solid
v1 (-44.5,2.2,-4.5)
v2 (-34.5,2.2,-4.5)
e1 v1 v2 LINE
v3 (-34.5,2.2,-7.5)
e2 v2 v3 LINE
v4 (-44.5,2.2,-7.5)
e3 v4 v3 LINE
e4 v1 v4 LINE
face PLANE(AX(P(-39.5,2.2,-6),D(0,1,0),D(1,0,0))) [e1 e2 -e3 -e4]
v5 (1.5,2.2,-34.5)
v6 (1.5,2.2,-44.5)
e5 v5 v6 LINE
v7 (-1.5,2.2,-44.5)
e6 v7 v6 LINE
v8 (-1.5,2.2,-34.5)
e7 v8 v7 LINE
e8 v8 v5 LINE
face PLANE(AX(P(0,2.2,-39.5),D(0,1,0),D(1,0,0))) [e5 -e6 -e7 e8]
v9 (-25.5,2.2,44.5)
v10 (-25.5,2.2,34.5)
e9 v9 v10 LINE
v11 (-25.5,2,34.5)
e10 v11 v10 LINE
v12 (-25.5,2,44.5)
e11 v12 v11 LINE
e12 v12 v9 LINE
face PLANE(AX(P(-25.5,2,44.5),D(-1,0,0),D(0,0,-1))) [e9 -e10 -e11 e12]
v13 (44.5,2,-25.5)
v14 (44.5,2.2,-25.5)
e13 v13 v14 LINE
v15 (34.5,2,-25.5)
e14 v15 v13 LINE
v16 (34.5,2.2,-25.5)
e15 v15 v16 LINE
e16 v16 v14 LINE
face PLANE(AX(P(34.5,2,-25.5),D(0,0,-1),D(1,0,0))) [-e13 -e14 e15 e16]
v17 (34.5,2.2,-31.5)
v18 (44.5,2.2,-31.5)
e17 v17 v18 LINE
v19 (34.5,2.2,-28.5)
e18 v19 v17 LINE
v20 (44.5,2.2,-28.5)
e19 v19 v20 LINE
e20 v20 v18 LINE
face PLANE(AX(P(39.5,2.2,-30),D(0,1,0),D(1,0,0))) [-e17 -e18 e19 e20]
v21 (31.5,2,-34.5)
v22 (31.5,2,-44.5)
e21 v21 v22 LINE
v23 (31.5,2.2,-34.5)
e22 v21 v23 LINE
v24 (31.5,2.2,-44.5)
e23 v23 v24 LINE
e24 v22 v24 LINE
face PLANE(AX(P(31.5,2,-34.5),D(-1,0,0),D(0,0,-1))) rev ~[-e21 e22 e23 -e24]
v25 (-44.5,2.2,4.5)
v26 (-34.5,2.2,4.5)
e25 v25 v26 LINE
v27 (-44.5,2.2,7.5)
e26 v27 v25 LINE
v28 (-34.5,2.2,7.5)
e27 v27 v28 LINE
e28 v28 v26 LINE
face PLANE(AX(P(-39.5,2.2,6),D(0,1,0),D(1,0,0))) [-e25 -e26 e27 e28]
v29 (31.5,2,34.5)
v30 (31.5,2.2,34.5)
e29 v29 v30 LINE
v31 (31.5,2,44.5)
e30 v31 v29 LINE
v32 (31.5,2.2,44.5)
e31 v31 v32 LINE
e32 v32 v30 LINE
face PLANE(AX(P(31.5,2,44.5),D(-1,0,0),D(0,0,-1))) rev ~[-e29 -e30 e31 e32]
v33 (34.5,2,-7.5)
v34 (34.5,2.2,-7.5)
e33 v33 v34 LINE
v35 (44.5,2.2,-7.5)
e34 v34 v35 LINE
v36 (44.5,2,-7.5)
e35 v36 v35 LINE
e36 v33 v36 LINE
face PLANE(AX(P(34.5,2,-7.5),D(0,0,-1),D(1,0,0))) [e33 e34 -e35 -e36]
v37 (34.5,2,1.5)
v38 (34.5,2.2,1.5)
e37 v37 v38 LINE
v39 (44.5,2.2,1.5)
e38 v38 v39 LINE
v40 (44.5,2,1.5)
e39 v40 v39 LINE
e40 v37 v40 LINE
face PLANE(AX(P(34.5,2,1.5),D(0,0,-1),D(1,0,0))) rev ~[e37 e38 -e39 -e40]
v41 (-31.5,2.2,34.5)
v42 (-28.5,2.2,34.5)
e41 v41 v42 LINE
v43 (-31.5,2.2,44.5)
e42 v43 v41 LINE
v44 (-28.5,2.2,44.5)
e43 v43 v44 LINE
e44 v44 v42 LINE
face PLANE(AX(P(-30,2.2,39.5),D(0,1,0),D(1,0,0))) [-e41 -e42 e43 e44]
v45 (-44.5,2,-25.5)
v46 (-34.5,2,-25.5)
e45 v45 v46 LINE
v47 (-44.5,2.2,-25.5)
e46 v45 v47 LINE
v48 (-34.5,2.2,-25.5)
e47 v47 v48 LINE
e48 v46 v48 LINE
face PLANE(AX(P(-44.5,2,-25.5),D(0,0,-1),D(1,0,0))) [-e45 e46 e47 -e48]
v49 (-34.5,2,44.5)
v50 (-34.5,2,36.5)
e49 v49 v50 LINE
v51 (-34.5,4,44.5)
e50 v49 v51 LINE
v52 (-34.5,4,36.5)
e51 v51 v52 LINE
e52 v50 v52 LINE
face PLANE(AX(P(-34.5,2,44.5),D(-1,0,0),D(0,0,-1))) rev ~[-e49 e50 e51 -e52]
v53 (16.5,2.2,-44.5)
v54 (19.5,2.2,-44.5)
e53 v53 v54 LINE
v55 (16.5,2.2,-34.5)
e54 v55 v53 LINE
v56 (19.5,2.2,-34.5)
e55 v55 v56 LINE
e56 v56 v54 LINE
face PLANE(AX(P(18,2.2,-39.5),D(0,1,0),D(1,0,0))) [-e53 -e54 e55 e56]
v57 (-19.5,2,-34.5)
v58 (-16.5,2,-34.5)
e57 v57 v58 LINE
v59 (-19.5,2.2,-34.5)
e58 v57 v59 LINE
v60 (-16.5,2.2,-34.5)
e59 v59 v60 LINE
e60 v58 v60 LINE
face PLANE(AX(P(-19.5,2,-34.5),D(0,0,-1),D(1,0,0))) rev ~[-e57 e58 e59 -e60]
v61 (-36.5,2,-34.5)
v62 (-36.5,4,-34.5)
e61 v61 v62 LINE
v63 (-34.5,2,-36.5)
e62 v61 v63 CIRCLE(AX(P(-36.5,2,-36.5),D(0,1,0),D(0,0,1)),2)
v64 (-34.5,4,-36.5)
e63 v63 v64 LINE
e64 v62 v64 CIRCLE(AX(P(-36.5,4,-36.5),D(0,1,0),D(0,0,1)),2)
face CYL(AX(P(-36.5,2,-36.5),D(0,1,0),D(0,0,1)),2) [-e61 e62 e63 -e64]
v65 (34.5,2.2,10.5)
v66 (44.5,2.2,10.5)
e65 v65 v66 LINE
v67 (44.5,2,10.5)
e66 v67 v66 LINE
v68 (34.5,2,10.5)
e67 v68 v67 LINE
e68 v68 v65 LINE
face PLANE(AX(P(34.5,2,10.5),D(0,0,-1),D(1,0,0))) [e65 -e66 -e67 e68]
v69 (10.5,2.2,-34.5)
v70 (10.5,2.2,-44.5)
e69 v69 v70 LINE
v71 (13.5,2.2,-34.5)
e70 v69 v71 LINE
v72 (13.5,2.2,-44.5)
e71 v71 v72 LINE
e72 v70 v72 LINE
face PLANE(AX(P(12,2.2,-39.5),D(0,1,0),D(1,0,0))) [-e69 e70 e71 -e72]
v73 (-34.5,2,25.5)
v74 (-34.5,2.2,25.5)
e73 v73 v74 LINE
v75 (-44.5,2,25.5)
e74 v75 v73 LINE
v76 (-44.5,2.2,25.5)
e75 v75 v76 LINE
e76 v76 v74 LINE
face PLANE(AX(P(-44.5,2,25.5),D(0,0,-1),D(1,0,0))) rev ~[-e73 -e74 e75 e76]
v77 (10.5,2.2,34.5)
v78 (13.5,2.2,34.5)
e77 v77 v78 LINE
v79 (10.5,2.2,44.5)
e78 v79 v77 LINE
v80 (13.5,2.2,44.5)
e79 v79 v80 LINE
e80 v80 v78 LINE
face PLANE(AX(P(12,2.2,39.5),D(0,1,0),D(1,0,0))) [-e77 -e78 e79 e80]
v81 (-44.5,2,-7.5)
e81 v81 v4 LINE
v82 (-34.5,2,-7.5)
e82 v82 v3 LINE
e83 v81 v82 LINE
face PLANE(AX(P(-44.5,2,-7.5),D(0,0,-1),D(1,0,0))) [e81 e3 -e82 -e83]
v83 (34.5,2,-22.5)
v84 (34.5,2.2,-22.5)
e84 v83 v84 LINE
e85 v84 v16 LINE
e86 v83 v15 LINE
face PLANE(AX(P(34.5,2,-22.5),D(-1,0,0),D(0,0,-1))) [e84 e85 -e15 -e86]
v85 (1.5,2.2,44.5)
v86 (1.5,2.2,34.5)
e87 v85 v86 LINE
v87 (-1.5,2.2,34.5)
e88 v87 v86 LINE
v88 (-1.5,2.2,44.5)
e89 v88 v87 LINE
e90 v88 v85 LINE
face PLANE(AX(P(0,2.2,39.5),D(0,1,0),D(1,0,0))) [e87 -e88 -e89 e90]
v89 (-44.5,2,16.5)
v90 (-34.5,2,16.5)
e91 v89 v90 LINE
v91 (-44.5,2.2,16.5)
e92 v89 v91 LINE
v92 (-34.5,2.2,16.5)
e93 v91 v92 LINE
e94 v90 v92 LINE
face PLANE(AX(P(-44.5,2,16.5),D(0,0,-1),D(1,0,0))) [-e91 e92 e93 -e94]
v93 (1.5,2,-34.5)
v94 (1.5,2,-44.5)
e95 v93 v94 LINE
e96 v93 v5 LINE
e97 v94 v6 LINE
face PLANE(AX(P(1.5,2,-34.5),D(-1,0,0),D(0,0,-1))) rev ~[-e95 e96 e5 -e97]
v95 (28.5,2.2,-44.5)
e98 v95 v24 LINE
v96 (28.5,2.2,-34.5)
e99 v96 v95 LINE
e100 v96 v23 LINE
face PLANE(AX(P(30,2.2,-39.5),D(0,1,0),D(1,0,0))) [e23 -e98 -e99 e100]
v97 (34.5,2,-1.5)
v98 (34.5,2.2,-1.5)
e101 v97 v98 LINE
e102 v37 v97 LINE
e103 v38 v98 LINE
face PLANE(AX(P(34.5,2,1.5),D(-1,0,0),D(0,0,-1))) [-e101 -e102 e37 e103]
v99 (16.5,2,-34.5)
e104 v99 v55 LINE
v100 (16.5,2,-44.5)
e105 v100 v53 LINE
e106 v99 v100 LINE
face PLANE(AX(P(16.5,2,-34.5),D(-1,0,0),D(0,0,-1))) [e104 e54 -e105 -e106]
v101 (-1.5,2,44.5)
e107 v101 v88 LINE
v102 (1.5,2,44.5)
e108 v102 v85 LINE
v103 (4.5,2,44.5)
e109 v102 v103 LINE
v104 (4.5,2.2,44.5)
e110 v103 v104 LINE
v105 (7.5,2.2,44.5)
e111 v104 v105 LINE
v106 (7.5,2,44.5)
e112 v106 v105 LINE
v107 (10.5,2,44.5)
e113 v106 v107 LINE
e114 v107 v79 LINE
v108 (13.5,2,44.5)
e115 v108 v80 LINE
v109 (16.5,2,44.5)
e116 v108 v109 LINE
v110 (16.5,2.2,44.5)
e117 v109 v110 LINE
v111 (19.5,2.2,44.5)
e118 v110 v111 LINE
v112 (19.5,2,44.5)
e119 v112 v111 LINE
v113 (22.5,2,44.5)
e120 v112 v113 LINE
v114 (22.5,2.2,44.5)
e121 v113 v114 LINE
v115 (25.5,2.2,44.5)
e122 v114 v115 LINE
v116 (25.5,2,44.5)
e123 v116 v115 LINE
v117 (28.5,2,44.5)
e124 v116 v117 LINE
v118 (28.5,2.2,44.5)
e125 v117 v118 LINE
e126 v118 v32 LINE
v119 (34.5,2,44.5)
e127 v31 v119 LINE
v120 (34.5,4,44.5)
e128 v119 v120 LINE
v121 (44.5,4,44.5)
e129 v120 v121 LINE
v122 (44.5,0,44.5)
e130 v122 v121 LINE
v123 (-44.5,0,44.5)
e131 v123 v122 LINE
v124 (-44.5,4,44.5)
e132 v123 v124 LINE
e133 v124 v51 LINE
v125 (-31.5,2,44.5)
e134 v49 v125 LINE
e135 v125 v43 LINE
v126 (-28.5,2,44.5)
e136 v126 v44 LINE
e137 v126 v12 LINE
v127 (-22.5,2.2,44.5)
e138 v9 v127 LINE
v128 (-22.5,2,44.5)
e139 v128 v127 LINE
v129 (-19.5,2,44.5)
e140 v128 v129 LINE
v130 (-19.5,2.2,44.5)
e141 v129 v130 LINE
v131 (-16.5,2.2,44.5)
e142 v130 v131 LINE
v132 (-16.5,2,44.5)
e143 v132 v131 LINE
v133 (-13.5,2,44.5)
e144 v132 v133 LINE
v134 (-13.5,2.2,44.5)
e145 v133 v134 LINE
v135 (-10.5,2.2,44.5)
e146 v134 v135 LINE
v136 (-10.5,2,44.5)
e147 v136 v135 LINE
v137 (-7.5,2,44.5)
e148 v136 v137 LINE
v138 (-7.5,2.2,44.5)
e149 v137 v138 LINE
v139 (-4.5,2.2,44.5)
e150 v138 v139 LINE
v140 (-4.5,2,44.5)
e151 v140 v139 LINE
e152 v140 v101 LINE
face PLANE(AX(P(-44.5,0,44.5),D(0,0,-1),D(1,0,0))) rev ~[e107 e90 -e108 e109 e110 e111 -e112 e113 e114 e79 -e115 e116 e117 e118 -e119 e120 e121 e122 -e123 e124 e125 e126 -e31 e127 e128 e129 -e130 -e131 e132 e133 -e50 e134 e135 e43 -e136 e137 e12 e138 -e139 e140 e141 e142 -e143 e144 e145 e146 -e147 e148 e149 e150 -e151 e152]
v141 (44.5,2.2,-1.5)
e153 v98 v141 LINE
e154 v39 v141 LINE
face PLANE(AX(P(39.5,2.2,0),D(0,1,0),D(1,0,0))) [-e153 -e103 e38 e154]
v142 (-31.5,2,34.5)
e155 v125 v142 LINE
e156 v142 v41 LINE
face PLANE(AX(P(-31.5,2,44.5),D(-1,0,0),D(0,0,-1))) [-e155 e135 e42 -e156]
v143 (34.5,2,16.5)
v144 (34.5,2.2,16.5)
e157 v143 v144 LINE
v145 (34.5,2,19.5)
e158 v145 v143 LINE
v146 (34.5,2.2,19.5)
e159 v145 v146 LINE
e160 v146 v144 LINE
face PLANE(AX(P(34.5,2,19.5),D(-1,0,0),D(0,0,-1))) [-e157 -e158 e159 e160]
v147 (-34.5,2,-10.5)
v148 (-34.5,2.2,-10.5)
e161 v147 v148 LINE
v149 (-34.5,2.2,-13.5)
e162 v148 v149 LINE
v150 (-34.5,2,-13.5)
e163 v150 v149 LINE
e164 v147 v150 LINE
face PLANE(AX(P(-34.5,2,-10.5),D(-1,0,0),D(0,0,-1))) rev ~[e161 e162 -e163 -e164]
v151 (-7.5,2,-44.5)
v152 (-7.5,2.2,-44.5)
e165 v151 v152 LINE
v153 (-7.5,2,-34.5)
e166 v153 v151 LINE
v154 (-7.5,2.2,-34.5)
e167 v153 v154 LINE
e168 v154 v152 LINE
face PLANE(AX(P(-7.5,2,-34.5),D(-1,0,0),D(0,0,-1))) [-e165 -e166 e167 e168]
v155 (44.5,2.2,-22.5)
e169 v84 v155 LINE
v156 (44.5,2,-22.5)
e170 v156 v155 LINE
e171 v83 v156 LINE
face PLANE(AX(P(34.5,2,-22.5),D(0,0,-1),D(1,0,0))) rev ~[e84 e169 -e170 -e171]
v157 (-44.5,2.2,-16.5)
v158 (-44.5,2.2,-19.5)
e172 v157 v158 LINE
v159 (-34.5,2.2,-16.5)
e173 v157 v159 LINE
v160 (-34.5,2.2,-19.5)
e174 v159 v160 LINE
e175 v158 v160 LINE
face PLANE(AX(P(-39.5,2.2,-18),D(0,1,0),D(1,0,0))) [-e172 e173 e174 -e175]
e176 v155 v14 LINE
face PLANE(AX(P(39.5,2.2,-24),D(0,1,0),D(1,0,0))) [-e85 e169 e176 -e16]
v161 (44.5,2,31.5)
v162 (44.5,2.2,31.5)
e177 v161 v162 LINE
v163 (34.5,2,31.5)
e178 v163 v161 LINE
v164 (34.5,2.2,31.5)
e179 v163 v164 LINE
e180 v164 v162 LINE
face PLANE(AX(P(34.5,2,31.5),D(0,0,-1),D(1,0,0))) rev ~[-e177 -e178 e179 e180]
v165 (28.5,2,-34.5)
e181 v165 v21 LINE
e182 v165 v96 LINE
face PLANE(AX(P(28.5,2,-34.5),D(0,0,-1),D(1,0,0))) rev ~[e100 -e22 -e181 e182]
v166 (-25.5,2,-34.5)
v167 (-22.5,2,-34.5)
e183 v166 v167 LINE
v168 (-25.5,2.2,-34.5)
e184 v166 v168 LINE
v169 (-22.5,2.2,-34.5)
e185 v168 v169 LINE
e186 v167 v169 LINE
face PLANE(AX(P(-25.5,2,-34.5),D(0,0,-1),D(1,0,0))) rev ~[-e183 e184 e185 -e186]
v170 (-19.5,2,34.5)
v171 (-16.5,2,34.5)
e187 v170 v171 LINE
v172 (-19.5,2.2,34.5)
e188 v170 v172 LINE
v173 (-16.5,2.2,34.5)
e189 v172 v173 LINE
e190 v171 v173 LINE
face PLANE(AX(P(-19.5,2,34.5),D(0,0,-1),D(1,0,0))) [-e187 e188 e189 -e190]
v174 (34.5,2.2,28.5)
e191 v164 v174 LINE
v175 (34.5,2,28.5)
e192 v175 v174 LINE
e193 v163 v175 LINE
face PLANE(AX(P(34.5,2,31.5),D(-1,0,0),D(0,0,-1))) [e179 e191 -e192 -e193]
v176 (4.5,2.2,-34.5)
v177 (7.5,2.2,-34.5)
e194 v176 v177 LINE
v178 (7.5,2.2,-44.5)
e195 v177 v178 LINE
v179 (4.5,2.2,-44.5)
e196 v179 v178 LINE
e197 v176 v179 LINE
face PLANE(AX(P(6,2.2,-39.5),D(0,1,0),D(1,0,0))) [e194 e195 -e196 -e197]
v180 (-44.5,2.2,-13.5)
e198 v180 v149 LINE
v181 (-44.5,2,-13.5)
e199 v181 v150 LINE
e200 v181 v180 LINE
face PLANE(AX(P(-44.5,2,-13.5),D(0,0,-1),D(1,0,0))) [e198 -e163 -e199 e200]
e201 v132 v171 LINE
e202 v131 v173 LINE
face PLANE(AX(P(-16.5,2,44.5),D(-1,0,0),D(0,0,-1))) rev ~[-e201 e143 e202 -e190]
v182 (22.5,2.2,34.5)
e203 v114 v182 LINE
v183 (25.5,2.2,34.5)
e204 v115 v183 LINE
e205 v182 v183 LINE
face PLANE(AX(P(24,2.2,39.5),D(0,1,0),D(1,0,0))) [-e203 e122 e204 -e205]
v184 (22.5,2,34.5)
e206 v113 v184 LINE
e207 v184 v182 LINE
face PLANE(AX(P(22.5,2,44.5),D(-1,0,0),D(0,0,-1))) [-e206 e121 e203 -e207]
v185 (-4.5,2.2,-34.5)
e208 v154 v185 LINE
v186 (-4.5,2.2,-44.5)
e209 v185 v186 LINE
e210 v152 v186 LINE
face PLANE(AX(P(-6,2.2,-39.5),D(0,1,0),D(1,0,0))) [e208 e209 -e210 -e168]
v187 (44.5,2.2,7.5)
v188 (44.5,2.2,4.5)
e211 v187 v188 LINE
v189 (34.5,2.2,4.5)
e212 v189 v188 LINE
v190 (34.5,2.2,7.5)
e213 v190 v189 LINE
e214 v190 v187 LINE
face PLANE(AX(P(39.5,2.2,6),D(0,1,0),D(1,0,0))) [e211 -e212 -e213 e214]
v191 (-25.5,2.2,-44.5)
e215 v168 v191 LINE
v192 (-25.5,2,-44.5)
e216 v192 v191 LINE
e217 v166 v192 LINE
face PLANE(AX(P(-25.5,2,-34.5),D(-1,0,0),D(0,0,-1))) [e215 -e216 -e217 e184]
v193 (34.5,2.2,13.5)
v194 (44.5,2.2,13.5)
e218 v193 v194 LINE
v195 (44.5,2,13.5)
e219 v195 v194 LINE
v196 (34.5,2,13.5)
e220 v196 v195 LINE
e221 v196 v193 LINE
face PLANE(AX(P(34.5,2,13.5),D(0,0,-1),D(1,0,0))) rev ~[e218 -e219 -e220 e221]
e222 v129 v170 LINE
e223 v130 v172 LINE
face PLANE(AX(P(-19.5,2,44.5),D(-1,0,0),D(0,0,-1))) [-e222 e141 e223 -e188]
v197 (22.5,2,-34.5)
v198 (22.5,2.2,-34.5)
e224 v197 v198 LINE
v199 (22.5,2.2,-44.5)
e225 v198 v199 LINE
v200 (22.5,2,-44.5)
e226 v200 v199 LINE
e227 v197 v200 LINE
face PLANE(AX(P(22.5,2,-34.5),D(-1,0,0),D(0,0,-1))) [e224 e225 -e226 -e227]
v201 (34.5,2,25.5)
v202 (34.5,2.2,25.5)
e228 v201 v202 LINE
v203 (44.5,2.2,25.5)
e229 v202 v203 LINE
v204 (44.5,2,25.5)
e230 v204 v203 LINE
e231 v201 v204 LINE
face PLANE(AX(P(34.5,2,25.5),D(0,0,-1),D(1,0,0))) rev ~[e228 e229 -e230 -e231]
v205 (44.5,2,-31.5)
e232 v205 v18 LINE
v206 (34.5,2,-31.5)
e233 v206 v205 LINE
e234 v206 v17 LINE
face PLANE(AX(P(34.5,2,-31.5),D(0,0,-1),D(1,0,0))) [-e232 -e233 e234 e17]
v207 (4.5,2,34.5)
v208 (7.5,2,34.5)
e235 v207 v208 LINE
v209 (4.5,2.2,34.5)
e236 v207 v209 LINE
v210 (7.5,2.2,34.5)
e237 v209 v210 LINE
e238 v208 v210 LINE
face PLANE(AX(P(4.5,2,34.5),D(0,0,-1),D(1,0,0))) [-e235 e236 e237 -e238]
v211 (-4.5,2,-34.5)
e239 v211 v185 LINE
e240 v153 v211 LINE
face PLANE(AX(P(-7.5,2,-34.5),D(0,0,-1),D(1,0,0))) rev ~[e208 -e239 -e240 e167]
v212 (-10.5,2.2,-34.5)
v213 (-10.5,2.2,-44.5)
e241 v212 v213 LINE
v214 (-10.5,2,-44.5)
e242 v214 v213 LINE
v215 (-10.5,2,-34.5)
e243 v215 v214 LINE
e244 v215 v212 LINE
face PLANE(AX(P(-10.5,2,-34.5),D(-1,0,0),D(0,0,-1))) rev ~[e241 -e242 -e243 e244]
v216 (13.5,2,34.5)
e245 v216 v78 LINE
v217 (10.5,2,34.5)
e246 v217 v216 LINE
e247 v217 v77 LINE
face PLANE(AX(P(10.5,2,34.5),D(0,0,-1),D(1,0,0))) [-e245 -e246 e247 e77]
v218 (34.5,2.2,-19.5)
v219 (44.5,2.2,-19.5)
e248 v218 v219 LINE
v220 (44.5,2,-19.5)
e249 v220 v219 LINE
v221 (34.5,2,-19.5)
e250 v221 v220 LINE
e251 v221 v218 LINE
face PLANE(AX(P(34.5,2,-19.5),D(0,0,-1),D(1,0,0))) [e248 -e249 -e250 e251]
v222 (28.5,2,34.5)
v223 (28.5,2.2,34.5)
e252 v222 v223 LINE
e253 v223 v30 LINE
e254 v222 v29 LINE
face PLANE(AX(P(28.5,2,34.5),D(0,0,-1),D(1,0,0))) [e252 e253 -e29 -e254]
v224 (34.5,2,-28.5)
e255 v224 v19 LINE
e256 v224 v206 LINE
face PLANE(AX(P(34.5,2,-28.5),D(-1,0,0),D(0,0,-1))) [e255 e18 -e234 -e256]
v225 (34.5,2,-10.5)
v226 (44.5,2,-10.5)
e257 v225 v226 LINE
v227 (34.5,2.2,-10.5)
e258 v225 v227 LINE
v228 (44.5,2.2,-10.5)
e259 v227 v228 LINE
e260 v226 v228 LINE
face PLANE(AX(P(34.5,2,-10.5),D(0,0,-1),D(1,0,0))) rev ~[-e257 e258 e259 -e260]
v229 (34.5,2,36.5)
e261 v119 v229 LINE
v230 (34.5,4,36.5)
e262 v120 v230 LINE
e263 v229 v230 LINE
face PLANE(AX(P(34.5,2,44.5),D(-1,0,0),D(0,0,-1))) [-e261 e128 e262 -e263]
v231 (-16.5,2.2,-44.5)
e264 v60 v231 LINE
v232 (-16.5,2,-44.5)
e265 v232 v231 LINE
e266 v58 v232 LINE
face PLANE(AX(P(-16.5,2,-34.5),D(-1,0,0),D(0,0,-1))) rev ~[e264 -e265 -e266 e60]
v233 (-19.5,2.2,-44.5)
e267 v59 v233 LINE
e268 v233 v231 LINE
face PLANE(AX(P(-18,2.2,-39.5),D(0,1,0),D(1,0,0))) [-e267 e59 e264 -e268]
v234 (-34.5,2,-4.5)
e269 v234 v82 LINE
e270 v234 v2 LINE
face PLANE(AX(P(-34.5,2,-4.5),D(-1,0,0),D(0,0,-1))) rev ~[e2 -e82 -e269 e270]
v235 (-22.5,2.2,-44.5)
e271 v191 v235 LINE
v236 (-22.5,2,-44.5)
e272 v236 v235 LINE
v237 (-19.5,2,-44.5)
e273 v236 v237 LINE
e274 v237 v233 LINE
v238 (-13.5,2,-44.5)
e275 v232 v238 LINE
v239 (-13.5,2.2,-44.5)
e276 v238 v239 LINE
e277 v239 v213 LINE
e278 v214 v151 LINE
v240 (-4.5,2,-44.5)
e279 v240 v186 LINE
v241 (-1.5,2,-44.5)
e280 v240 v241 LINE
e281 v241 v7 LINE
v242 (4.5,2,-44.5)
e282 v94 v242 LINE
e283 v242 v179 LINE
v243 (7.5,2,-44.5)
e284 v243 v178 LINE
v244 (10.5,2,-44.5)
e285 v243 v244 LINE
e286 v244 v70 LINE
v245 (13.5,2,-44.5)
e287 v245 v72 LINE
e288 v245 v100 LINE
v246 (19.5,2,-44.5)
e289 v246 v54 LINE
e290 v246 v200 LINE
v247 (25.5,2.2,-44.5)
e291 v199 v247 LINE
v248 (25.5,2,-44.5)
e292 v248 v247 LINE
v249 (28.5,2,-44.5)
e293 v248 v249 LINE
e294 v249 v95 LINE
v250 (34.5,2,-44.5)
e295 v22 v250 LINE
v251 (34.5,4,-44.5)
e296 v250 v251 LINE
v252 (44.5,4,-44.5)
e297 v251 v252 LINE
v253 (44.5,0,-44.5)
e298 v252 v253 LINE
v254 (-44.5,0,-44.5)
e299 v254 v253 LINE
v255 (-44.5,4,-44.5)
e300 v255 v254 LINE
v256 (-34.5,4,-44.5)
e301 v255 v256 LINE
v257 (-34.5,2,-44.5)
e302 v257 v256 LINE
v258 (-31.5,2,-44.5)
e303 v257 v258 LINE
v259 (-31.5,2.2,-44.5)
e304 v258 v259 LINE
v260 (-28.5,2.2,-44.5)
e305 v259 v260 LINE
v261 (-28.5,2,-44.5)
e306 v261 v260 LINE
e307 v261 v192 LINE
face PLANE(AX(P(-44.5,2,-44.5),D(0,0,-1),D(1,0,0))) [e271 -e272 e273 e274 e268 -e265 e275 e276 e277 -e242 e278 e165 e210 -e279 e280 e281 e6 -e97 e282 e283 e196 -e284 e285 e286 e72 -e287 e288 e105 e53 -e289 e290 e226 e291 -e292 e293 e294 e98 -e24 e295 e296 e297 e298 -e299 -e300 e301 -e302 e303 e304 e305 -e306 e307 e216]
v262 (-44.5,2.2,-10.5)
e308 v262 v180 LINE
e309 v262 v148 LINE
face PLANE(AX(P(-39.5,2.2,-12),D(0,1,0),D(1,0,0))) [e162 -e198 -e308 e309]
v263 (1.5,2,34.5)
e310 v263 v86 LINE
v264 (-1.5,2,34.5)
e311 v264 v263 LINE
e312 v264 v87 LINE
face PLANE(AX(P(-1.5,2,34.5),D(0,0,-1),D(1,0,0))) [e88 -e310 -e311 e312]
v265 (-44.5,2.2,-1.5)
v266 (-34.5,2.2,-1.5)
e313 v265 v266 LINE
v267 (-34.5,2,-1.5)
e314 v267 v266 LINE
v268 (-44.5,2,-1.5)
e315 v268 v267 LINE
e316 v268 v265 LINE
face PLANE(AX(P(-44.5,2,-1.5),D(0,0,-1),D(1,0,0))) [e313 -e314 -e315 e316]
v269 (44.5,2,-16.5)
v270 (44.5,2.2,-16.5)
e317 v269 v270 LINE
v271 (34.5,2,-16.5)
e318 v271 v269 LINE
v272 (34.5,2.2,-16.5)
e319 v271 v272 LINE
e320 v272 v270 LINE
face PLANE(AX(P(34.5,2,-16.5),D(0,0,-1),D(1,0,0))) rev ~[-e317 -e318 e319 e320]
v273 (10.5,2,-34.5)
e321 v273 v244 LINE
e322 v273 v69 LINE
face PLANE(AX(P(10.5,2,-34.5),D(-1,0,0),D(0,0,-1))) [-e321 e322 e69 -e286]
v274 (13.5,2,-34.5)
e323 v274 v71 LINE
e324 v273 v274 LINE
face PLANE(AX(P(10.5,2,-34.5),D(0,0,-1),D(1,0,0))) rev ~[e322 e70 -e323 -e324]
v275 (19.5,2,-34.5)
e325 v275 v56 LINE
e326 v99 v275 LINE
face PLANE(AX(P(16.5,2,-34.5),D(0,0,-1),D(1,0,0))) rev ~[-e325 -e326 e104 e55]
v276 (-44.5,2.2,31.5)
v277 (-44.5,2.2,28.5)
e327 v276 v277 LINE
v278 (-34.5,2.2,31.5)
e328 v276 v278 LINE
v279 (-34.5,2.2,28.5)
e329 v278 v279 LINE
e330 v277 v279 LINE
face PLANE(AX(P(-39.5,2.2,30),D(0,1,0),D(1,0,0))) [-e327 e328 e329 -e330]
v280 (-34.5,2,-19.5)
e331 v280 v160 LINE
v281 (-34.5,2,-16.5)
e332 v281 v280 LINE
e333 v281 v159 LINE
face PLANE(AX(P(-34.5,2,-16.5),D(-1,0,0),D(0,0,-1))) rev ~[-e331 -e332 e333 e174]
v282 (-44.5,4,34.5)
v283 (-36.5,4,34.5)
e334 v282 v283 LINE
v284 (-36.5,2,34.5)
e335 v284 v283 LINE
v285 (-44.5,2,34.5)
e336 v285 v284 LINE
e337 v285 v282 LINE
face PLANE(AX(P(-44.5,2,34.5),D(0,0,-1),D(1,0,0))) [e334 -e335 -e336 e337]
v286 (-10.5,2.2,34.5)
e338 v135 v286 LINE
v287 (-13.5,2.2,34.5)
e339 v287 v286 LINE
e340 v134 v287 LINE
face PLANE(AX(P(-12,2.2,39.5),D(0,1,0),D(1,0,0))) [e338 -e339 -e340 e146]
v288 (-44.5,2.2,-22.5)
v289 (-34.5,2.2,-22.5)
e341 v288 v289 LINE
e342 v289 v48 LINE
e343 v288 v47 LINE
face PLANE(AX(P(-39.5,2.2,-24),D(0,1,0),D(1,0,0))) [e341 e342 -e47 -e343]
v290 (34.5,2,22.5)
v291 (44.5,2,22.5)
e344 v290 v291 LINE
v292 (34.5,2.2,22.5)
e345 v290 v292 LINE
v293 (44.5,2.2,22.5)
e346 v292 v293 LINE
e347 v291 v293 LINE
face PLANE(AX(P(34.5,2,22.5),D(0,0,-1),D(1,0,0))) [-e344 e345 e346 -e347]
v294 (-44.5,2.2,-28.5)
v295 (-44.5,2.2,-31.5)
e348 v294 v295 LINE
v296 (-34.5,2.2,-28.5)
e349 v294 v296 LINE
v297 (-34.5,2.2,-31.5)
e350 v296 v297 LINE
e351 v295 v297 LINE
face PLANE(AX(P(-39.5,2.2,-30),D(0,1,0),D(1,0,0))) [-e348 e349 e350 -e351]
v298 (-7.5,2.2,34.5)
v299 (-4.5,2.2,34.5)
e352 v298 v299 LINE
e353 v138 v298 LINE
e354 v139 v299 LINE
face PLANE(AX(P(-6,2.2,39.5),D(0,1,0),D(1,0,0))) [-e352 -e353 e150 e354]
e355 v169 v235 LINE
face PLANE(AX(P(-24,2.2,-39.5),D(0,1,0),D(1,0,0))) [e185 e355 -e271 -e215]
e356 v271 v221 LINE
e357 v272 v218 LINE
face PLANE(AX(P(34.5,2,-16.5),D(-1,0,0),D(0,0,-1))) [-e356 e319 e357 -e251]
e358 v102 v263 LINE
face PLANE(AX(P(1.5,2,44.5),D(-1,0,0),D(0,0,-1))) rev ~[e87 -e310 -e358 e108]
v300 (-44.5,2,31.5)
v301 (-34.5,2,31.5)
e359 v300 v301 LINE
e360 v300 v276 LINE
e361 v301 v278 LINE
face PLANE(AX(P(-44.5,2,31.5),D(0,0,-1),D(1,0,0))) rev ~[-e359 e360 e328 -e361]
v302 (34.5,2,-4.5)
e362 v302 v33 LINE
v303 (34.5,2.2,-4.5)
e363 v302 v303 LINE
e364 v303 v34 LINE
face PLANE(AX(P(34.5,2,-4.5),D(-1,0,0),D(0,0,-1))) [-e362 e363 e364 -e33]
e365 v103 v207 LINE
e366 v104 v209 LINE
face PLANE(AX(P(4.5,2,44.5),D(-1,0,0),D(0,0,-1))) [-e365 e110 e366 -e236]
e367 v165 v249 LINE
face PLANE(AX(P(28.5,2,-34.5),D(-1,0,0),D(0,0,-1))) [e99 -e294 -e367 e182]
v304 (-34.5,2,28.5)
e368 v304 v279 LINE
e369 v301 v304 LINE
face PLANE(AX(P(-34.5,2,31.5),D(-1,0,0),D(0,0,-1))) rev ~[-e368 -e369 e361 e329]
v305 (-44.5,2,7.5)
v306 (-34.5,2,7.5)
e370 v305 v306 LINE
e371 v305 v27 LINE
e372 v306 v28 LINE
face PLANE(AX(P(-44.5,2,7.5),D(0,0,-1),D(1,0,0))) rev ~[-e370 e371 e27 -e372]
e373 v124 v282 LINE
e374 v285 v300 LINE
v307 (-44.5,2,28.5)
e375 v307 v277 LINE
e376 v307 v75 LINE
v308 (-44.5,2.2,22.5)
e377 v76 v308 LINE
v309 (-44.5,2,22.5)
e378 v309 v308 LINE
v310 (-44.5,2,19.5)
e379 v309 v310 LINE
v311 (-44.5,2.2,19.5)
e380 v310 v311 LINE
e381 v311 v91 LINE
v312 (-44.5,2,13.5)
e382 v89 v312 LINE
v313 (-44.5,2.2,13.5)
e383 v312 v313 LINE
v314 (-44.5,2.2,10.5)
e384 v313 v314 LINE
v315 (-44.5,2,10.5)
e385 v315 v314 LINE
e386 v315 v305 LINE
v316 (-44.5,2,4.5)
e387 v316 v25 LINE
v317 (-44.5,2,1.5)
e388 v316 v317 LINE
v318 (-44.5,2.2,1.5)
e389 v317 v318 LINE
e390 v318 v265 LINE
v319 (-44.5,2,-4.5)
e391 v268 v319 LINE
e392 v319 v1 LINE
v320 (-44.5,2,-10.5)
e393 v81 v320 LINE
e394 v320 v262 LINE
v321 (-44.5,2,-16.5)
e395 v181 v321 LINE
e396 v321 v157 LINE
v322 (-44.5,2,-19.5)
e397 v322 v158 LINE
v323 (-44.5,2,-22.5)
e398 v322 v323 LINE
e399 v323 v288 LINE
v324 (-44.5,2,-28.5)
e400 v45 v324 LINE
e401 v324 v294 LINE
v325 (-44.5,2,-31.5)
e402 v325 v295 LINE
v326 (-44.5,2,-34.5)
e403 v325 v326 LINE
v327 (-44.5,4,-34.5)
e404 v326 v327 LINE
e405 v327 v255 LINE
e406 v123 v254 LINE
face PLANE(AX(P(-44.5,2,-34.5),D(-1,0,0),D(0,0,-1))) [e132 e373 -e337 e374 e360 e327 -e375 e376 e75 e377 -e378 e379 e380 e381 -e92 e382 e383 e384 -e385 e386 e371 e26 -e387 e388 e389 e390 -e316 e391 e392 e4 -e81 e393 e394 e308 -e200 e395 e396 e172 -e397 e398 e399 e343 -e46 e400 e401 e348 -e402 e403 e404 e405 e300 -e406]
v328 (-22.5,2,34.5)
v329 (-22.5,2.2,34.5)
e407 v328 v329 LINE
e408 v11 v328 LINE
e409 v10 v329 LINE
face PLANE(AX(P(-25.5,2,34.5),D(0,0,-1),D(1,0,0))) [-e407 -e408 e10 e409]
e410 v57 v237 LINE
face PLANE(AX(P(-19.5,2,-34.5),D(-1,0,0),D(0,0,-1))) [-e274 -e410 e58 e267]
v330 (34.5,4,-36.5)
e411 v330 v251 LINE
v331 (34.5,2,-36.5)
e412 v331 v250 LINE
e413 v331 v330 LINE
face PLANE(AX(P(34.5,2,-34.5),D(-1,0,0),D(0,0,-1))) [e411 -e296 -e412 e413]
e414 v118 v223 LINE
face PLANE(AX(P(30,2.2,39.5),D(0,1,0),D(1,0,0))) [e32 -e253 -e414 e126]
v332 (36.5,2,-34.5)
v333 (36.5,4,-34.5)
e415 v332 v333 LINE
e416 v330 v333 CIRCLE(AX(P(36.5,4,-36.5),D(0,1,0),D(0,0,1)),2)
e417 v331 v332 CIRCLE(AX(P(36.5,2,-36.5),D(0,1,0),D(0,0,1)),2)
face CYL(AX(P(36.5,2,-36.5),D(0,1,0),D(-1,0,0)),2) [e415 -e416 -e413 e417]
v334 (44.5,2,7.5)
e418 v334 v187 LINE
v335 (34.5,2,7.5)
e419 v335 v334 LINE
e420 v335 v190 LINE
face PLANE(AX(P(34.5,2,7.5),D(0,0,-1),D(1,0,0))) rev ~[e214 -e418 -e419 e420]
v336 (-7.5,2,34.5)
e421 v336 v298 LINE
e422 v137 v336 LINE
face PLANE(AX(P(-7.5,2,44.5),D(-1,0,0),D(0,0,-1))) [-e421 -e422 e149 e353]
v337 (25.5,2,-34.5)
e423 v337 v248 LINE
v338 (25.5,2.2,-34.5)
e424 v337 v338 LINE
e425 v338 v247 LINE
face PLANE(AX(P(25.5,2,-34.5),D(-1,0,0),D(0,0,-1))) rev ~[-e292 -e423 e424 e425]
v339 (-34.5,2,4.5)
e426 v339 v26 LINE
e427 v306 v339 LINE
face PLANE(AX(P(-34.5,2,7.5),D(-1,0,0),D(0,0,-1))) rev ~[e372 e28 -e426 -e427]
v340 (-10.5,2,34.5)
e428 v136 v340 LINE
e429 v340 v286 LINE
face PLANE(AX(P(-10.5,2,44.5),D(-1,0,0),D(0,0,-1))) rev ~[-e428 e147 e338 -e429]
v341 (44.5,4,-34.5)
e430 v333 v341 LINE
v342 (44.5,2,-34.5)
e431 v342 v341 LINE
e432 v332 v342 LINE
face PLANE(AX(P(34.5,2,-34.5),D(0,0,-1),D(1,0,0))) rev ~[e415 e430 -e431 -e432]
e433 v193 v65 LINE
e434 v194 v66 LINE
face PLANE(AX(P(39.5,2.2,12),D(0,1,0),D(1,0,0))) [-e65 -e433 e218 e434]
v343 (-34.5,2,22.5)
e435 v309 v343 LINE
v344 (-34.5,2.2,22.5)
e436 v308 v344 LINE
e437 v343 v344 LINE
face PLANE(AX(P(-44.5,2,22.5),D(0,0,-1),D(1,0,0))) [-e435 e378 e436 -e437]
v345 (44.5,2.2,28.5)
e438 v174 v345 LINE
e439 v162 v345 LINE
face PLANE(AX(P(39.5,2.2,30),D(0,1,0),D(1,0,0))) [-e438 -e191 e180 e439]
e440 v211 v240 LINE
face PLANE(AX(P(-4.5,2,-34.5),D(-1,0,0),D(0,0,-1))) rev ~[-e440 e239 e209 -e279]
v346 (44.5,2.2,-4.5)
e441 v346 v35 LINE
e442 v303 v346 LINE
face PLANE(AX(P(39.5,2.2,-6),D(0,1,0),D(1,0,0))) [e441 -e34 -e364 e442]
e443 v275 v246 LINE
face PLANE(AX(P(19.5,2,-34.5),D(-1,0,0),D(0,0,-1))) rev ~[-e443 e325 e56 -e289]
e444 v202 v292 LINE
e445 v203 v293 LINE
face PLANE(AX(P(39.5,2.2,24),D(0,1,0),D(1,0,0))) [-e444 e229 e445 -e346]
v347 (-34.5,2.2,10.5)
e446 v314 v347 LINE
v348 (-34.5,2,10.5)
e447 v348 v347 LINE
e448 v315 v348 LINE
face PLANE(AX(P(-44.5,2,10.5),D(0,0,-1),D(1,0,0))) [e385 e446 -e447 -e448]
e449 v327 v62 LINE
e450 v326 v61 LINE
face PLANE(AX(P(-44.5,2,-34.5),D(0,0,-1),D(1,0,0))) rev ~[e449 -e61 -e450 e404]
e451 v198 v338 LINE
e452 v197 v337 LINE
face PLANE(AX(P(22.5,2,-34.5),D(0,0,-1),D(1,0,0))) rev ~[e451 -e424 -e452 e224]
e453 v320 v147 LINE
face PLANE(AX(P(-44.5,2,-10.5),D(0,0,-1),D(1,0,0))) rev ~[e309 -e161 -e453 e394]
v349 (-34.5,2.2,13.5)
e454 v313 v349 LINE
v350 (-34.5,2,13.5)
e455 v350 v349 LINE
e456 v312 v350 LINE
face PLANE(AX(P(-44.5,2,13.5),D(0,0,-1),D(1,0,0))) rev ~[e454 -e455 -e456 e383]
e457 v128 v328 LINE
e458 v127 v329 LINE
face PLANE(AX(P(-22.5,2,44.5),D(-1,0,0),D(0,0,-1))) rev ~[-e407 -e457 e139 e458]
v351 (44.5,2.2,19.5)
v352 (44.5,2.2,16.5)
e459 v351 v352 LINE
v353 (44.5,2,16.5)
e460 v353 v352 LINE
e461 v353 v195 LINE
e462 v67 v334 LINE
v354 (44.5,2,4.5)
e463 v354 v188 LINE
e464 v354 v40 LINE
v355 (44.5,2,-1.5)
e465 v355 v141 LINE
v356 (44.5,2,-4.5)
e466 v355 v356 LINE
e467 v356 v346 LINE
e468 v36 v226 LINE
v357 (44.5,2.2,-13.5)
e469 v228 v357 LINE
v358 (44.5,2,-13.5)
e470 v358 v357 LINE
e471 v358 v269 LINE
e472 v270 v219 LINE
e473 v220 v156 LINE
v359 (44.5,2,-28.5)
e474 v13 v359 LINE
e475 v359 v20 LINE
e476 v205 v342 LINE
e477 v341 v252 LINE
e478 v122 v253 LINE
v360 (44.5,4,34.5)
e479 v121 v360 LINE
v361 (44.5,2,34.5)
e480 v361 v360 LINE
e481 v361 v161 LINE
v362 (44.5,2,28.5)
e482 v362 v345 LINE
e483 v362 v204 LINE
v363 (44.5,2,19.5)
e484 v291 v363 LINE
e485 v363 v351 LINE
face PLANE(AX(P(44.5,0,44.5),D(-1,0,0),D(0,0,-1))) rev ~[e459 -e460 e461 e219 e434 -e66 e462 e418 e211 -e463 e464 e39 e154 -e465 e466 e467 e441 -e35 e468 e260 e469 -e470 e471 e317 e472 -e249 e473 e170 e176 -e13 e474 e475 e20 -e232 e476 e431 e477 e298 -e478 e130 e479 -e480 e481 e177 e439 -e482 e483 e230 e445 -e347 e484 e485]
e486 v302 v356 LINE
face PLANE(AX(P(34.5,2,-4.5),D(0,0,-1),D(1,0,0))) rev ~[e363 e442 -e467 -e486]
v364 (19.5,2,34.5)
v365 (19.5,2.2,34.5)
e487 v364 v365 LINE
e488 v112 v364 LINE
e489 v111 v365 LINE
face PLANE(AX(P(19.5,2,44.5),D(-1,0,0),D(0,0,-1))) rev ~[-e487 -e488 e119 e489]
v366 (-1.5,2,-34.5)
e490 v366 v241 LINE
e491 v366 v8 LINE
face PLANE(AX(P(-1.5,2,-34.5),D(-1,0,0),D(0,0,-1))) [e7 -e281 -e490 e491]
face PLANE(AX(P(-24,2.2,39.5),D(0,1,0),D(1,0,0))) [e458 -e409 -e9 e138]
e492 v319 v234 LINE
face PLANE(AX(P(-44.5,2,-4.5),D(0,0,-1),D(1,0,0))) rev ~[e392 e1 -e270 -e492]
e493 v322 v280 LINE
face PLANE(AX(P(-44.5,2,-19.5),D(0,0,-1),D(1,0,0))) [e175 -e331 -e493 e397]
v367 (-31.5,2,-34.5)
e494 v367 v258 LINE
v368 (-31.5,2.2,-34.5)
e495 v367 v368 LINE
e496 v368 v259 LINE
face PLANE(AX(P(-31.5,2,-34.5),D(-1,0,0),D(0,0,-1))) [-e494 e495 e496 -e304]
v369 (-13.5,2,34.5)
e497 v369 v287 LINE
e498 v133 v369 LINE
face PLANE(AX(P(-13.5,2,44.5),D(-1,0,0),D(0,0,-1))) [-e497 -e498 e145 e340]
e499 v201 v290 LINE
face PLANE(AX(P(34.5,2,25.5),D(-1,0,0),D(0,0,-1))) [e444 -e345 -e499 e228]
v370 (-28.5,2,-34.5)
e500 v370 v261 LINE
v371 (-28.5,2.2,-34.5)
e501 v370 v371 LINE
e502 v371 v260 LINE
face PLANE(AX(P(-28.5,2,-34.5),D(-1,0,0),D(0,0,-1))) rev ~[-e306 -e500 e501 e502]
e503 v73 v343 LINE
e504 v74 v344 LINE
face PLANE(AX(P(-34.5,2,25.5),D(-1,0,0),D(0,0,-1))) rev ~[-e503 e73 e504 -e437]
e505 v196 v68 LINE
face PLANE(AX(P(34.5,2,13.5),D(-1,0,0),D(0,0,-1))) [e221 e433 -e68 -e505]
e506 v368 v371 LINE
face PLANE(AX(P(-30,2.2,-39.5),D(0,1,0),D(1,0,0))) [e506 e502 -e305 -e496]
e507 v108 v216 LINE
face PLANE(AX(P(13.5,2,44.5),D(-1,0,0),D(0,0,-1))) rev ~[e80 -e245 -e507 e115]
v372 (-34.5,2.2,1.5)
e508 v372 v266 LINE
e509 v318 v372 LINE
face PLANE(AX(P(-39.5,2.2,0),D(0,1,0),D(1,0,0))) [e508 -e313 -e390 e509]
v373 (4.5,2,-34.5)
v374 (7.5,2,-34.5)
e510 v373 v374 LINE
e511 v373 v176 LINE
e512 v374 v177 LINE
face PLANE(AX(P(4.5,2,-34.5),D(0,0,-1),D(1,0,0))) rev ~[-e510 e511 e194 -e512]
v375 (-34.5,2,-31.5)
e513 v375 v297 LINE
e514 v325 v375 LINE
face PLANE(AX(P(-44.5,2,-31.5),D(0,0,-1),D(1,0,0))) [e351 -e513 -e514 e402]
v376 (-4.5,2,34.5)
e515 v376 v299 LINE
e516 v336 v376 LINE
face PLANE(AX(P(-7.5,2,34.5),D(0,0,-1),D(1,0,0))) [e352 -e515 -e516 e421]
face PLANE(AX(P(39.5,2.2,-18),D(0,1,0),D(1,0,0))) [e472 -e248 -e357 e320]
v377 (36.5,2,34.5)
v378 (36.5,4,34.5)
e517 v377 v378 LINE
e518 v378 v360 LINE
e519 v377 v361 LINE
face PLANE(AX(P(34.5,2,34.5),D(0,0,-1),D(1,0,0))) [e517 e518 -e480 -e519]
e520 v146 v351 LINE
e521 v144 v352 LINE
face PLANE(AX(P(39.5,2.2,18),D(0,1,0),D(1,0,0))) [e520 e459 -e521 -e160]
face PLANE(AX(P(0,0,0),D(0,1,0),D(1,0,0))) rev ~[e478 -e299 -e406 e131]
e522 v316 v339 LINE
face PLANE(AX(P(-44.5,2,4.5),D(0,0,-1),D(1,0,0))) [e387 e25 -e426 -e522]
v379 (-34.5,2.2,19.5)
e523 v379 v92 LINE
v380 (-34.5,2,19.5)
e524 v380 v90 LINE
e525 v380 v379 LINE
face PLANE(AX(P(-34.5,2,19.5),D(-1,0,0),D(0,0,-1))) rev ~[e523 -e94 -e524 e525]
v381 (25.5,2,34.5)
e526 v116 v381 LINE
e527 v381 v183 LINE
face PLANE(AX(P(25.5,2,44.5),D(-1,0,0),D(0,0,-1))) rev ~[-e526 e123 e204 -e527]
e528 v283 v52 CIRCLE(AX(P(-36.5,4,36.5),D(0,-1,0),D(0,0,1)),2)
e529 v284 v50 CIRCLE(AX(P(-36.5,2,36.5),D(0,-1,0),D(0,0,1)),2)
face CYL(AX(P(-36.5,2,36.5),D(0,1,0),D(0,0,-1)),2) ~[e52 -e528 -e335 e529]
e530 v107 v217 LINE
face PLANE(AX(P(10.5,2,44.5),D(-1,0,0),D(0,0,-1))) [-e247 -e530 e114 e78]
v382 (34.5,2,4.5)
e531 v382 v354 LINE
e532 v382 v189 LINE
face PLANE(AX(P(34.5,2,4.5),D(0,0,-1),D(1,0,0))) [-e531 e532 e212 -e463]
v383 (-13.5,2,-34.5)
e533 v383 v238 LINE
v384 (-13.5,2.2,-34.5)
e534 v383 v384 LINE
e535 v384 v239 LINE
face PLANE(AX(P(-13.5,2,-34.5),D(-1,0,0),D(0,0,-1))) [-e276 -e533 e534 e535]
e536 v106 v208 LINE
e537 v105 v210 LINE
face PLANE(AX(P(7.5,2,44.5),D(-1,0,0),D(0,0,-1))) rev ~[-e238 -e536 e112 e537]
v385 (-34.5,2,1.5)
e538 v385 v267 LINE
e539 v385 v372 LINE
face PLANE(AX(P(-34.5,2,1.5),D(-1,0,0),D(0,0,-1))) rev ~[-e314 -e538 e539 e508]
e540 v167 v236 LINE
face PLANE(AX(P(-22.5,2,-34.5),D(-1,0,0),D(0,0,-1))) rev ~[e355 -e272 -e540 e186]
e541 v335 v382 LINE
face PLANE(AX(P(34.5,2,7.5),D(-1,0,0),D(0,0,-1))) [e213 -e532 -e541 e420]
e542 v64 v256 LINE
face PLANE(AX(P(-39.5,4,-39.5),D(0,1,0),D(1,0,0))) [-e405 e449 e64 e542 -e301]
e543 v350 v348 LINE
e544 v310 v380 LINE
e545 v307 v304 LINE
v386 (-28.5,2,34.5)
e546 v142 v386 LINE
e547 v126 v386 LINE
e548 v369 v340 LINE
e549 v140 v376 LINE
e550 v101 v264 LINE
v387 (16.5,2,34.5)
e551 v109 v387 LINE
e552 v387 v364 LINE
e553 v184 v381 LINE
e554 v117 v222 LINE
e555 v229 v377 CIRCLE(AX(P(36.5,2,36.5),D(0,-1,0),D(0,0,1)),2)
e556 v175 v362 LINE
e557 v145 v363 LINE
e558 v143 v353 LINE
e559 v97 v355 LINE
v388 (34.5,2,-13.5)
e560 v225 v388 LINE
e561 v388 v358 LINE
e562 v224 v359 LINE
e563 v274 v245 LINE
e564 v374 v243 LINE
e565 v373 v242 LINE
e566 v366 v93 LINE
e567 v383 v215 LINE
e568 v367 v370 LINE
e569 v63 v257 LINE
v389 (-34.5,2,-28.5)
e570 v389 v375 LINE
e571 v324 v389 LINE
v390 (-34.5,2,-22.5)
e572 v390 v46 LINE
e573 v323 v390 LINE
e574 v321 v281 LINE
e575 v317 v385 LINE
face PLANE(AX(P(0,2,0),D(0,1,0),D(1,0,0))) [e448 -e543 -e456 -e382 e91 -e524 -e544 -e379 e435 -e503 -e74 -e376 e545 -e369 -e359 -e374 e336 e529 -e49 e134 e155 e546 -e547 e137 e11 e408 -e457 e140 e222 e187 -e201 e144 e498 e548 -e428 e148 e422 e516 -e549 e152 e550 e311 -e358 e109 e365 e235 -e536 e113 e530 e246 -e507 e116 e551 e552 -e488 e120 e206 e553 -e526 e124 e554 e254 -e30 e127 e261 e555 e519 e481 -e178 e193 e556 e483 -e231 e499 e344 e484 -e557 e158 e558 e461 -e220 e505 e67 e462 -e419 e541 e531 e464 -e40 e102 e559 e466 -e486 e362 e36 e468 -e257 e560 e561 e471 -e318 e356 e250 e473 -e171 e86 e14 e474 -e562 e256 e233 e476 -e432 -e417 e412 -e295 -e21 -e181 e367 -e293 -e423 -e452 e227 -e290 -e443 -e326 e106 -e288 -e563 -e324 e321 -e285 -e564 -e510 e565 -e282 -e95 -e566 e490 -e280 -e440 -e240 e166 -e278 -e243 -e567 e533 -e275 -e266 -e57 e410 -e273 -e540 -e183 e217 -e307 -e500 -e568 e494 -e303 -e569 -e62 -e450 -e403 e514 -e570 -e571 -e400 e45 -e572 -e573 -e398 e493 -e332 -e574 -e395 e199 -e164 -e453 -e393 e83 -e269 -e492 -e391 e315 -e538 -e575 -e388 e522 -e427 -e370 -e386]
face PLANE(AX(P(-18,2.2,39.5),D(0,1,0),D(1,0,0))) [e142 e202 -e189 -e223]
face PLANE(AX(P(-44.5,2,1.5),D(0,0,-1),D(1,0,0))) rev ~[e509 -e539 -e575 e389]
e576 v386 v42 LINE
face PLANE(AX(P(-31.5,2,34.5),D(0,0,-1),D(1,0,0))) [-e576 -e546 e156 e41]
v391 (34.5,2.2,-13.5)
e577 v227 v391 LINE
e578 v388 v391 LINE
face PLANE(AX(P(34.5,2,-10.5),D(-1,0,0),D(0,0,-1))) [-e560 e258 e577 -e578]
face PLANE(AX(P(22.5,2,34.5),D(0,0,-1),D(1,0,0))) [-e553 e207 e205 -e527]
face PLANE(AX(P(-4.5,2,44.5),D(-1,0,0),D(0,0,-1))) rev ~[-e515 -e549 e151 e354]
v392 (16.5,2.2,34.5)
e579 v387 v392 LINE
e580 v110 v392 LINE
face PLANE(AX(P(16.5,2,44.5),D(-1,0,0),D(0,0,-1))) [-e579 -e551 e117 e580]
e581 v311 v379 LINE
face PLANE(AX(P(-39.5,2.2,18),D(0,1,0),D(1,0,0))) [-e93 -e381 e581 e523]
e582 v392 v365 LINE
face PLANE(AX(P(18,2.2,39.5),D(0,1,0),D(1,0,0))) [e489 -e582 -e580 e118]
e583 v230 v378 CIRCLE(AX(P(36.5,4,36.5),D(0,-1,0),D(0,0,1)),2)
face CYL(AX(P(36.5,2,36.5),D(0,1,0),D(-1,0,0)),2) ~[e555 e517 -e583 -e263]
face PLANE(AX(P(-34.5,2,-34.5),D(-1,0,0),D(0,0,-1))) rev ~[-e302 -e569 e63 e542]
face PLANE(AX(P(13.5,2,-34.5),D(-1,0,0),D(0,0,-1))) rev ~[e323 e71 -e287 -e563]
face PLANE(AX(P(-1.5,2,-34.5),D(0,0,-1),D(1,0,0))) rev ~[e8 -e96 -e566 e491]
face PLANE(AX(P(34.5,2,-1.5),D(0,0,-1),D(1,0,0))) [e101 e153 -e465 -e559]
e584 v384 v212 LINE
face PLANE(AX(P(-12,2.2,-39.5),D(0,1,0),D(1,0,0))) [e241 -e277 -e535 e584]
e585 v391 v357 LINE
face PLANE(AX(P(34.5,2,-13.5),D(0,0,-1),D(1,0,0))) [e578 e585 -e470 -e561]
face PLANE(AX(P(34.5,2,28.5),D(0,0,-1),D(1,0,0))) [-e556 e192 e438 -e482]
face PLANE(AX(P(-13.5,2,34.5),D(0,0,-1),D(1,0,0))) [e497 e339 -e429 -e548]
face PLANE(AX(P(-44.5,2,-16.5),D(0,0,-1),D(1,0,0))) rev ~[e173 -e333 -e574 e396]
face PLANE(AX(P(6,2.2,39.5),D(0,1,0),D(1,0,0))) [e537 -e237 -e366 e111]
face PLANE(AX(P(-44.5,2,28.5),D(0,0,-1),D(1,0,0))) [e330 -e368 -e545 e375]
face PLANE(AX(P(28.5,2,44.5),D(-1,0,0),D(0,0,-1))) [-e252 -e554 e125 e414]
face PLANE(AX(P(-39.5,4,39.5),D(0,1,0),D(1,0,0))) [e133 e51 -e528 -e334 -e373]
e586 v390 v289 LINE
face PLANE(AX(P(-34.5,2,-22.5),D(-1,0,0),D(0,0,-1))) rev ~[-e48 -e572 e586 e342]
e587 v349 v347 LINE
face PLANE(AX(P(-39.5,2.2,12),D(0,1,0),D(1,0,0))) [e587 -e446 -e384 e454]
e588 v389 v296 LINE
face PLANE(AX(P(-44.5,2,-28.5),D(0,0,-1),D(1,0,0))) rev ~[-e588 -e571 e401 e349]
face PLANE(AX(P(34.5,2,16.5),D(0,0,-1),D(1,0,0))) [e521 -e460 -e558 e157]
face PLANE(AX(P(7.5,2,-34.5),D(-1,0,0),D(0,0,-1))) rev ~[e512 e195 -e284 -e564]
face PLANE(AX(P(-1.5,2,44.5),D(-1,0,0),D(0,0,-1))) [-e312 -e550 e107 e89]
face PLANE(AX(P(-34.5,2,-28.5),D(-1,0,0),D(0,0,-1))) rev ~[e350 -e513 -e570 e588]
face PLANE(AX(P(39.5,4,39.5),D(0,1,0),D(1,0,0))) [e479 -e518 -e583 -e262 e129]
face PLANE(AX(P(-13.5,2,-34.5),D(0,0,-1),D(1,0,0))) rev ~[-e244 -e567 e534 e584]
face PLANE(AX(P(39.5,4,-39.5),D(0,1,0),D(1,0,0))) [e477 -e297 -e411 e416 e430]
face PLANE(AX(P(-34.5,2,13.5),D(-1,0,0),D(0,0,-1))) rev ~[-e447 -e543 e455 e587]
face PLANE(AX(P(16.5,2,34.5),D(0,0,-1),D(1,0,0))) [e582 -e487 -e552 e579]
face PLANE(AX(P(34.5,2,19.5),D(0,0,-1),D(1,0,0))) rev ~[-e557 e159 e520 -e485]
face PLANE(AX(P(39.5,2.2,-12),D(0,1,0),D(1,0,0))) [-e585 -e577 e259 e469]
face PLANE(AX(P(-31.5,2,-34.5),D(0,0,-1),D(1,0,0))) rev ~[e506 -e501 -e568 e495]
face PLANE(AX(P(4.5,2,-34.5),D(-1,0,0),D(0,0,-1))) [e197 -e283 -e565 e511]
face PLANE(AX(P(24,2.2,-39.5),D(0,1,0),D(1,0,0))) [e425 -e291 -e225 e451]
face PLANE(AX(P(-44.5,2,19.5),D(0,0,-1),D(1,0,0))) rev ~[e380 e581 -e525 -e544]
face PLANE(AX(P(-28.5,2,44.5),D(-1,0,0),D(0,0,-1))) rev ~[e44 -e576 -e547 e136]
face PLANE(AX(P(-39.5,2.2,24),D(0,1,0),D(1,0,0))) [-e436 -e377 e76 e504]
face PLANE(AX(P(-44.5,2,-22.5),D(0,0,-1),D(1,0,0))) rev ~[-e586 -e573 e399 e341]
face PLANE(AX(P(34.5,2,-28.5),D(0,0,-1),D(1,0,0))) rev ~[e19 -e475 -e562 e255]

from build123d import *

# Parameters (mm, degrees)
SKETCH1_W           = 89
SKETCH1_H           = 89
BOSS_EXTRUDE1_DEPTH = 2
SKETCH2_W           = 10
SKETCH2_H           = 10
BOSS_EXTRUDE2_DEPTH = 2
SKETCH3_W           = 10
SKETCH3_H           = 3
SKETCH3_W_2         = 3
SKETCH3_H_2         = 10
BOSS_EXTRUDE3_DEPTH = 0.2
FILLET1_R           = 2


with BuildPart() as part:
    # Sketch1 → Boss-Extrude1 (new body)
    with BuildSketch(Plane(origin=(0, 0, 0), x_dir=(1, 0, 0), z_dir=(0, 1, 0))):
        Rectangle(SKETCH1_W, SKETCH1_H)
    extrude(amount=BOSS_EXTRUDE1_DEPTH)

    # Sketch2 → Boss-Extrude2 (add)
    with BuildSketch(Plane(origin=(0, 2, 0), x_dir=(1, 0, 0), z_dir=(0, 1, 0))):
        with Locations((-39.5, 39.5)):
            Rectangle(SKETCH2_W, SKETCH2_H)
        with Locations((39.5, 39.5)):
            Rectangle(SKETCH2_W, SKETCH2_H)
        with Locations((39.5, -39.5)):
            Rectangle(SKETCH2_W, SKETCH2_H)
        with Locations((-39.5, -39.5)):
            Rectangle(SKETCH2_W, SKETCH2_H)
    extrude(amount=BOSS_EXTRUDE2_DEPTH)

    # Sketch3 → Boss-Extrude3 (add)
    with BuildSketch(Plane(origin=(0, 2, 0), x_dir=(1, 0, 0), z_dir=(0, 1, 0))):
        with Locations((-39.5, 30)):
            Rectangle(SKETCH3_W, SKETCH3_H)
        with Locations((-30, 39.5)):
            Rectangle(SKETCH3_W_2, SKETCH3_H_2)
        with Locations((-39.5, 24)):
            Rectangle(SKETCH3_W, SKETCH3_H)
        with Locations((-24, 39.5)):
            Rectangle(SKETCH3_W_2, SKETCH3_H_2)
        with Locations((-39.5, 18)):
            Rectangle(SKETCH3_W, SKETCH3_H)
        with Locations((-18, 39.5)):
            Rectangle(SKETCH3_W_2, SKETCH3_H_2)
        with Locations((-39.5, 12)):
            Rectangle(SKETCH3_W, SKETCH3_H)
        with Locations((-12, 39.5)):
            Rectangle(SKETCH3_W_2, SKETCH3_H_2)
        with Locations((-39.5, 6)):
            Rectangle(SKETCH3_W, SKETCH3_H)
        with Locations((-6, 39.5)):
            Rectangle(SKETCH3_W_2, SKETCH3_H_2)
        with Locations((-39.5, 0)):
            Rectangle(SKETCH3_W, SKETCH3_H)
        with Locations((0, 39.5)):
            Rectangle(SKETCH3_W_2, SKETCH3_H_2)
        with Locations((-39.5, -6)):
            Rectangle(SKETCH3_W, SKETCH3_H)
        with Locations((6, 39.5)):
            Rectangle(SKETCH3_W_2, SKETCH3_H_2)
        with Locations((-39.5, -12)):
            Rectangle(SKETCH3_W, SKETCH3_H)
        with Locations((12, 39.5)):
            Rectangle(SKETCH3_W_2, SKETCH3_H_2)
        with Locations((-39.5, -18)):
            Rectangle(SKETCH3_W, SKETCH3_H)
        with Locations((18, 39.5)):
            Rectangle(SKETCH3_W_2, SKETCH3_H_2)
        with Locations((-39.5, -24)):
            Rectangle(SKETCH3_W, SKETCH3_H)
        with Locations((24, 39.5)):
            Rectangle(SKETCH3_W_2, SKETCH3_H_2)
        with Locations((-39.5, -30)):
            Rectangle(SKETCH3_W, SKETCH3_H)
        with Locations((30, 39.5)):
            Rectangle(SKETCH3_W_2, SKETCH3_H_2)
        with Locations((-30, -39.5)):
            Rectangle(SKETCH3_W_2, SKETCH3_H_2)
        with Locations((39.5, 30)):
            Rectangle(SKETCH3_W, SKETCH3_H)
        with Locations((-24, -39.5)):
            Rectangle(SKETCH3_W_2, SKETCH3_H_2)
        with Locations((39.5, 24)):
            Rectangle(SKETCH3_W, SKETCH3_H)
        with Locations((-18, -39.5)):
            Rectangle(SKETCH3_W_2, SKETCH3_H_2)
        with Locations((39.5, 18)):
            Rectangle(SKETCH3_W, SKETCH3_H)
        with Locations((-12, -39.5)):
            Rectangle(SKETCH3_W_2, SKETCH3_H_2)
        with Locations((39.5, 12)):
            Rectangle(SKETCH3_W, SKETCH3_H)
        with Locations((-6, -39.5)):
            Rectangle(SKETCH3_W_2, SKETCH3_H_2)
        with Locations((39.5, 6)):
            Rectangle(SKETCH3_W, SKETCH3_H)
        with Locations((0, -39.5)):
            Rectangle(SKETCH3_W_2, SKETCH3_H_2)
        with Locations((39.5, 0)):
            Rectangle(SKETCH3_W, SKETCH3_H)
        with Locations((6, -39.5)):
            Rectangle(SKETCH3_W_2, SKETCH3_H_2)
        with Locations((39.5, -6)):
            Rectangle(SKETCH3_W, SKETCH3_H)
        with Locations((12, -39.5)):
            Rectangle(SKETCH3_W_2, SKETCH3_H_2)
        with Locations((39.5, -12)):
            Rectangle(SKETCH3_W, SKETCH3_H)
        with Locations((18, -39.5)):
            Rectangle(SKETCH3_W_2, SKETCH3_H_2)
        with Locations((39.5, -18)):
            Rectangle(SKETCH3_W, SKETCH3_H)
        with Locations((24, -39.5)):
            Rectangle(SKETCH3_W_2, SKETCH3_H_2)
        with Locations((39.5, -24)):
            Rectangle(SKETCH3_W, SKETCH3_H)
        with Locations((30, -39.5)):
            Rectangle(SKETCH3_W_2, SKETCH3_H_2)
        with Locations((39.5, -30)):
            Rectangle(SKETCH3_W, SKETCH3_H)
    extrude(amount=BOSS_EXTRUDE3_DEPTH)

    # Fillet1
    fillet1_edges = [part.edges().sort_by_distance(p)[0] for p in [
        (-34.5, 3, -34.5),
        (34.5, 3, -34.5),
        (34.5, 3, 34.5),
        (-34.5, 3, 34.5),
    ]]
    fillet(fillet1_edges, radius=FILLET1_R)


solid = part.part
